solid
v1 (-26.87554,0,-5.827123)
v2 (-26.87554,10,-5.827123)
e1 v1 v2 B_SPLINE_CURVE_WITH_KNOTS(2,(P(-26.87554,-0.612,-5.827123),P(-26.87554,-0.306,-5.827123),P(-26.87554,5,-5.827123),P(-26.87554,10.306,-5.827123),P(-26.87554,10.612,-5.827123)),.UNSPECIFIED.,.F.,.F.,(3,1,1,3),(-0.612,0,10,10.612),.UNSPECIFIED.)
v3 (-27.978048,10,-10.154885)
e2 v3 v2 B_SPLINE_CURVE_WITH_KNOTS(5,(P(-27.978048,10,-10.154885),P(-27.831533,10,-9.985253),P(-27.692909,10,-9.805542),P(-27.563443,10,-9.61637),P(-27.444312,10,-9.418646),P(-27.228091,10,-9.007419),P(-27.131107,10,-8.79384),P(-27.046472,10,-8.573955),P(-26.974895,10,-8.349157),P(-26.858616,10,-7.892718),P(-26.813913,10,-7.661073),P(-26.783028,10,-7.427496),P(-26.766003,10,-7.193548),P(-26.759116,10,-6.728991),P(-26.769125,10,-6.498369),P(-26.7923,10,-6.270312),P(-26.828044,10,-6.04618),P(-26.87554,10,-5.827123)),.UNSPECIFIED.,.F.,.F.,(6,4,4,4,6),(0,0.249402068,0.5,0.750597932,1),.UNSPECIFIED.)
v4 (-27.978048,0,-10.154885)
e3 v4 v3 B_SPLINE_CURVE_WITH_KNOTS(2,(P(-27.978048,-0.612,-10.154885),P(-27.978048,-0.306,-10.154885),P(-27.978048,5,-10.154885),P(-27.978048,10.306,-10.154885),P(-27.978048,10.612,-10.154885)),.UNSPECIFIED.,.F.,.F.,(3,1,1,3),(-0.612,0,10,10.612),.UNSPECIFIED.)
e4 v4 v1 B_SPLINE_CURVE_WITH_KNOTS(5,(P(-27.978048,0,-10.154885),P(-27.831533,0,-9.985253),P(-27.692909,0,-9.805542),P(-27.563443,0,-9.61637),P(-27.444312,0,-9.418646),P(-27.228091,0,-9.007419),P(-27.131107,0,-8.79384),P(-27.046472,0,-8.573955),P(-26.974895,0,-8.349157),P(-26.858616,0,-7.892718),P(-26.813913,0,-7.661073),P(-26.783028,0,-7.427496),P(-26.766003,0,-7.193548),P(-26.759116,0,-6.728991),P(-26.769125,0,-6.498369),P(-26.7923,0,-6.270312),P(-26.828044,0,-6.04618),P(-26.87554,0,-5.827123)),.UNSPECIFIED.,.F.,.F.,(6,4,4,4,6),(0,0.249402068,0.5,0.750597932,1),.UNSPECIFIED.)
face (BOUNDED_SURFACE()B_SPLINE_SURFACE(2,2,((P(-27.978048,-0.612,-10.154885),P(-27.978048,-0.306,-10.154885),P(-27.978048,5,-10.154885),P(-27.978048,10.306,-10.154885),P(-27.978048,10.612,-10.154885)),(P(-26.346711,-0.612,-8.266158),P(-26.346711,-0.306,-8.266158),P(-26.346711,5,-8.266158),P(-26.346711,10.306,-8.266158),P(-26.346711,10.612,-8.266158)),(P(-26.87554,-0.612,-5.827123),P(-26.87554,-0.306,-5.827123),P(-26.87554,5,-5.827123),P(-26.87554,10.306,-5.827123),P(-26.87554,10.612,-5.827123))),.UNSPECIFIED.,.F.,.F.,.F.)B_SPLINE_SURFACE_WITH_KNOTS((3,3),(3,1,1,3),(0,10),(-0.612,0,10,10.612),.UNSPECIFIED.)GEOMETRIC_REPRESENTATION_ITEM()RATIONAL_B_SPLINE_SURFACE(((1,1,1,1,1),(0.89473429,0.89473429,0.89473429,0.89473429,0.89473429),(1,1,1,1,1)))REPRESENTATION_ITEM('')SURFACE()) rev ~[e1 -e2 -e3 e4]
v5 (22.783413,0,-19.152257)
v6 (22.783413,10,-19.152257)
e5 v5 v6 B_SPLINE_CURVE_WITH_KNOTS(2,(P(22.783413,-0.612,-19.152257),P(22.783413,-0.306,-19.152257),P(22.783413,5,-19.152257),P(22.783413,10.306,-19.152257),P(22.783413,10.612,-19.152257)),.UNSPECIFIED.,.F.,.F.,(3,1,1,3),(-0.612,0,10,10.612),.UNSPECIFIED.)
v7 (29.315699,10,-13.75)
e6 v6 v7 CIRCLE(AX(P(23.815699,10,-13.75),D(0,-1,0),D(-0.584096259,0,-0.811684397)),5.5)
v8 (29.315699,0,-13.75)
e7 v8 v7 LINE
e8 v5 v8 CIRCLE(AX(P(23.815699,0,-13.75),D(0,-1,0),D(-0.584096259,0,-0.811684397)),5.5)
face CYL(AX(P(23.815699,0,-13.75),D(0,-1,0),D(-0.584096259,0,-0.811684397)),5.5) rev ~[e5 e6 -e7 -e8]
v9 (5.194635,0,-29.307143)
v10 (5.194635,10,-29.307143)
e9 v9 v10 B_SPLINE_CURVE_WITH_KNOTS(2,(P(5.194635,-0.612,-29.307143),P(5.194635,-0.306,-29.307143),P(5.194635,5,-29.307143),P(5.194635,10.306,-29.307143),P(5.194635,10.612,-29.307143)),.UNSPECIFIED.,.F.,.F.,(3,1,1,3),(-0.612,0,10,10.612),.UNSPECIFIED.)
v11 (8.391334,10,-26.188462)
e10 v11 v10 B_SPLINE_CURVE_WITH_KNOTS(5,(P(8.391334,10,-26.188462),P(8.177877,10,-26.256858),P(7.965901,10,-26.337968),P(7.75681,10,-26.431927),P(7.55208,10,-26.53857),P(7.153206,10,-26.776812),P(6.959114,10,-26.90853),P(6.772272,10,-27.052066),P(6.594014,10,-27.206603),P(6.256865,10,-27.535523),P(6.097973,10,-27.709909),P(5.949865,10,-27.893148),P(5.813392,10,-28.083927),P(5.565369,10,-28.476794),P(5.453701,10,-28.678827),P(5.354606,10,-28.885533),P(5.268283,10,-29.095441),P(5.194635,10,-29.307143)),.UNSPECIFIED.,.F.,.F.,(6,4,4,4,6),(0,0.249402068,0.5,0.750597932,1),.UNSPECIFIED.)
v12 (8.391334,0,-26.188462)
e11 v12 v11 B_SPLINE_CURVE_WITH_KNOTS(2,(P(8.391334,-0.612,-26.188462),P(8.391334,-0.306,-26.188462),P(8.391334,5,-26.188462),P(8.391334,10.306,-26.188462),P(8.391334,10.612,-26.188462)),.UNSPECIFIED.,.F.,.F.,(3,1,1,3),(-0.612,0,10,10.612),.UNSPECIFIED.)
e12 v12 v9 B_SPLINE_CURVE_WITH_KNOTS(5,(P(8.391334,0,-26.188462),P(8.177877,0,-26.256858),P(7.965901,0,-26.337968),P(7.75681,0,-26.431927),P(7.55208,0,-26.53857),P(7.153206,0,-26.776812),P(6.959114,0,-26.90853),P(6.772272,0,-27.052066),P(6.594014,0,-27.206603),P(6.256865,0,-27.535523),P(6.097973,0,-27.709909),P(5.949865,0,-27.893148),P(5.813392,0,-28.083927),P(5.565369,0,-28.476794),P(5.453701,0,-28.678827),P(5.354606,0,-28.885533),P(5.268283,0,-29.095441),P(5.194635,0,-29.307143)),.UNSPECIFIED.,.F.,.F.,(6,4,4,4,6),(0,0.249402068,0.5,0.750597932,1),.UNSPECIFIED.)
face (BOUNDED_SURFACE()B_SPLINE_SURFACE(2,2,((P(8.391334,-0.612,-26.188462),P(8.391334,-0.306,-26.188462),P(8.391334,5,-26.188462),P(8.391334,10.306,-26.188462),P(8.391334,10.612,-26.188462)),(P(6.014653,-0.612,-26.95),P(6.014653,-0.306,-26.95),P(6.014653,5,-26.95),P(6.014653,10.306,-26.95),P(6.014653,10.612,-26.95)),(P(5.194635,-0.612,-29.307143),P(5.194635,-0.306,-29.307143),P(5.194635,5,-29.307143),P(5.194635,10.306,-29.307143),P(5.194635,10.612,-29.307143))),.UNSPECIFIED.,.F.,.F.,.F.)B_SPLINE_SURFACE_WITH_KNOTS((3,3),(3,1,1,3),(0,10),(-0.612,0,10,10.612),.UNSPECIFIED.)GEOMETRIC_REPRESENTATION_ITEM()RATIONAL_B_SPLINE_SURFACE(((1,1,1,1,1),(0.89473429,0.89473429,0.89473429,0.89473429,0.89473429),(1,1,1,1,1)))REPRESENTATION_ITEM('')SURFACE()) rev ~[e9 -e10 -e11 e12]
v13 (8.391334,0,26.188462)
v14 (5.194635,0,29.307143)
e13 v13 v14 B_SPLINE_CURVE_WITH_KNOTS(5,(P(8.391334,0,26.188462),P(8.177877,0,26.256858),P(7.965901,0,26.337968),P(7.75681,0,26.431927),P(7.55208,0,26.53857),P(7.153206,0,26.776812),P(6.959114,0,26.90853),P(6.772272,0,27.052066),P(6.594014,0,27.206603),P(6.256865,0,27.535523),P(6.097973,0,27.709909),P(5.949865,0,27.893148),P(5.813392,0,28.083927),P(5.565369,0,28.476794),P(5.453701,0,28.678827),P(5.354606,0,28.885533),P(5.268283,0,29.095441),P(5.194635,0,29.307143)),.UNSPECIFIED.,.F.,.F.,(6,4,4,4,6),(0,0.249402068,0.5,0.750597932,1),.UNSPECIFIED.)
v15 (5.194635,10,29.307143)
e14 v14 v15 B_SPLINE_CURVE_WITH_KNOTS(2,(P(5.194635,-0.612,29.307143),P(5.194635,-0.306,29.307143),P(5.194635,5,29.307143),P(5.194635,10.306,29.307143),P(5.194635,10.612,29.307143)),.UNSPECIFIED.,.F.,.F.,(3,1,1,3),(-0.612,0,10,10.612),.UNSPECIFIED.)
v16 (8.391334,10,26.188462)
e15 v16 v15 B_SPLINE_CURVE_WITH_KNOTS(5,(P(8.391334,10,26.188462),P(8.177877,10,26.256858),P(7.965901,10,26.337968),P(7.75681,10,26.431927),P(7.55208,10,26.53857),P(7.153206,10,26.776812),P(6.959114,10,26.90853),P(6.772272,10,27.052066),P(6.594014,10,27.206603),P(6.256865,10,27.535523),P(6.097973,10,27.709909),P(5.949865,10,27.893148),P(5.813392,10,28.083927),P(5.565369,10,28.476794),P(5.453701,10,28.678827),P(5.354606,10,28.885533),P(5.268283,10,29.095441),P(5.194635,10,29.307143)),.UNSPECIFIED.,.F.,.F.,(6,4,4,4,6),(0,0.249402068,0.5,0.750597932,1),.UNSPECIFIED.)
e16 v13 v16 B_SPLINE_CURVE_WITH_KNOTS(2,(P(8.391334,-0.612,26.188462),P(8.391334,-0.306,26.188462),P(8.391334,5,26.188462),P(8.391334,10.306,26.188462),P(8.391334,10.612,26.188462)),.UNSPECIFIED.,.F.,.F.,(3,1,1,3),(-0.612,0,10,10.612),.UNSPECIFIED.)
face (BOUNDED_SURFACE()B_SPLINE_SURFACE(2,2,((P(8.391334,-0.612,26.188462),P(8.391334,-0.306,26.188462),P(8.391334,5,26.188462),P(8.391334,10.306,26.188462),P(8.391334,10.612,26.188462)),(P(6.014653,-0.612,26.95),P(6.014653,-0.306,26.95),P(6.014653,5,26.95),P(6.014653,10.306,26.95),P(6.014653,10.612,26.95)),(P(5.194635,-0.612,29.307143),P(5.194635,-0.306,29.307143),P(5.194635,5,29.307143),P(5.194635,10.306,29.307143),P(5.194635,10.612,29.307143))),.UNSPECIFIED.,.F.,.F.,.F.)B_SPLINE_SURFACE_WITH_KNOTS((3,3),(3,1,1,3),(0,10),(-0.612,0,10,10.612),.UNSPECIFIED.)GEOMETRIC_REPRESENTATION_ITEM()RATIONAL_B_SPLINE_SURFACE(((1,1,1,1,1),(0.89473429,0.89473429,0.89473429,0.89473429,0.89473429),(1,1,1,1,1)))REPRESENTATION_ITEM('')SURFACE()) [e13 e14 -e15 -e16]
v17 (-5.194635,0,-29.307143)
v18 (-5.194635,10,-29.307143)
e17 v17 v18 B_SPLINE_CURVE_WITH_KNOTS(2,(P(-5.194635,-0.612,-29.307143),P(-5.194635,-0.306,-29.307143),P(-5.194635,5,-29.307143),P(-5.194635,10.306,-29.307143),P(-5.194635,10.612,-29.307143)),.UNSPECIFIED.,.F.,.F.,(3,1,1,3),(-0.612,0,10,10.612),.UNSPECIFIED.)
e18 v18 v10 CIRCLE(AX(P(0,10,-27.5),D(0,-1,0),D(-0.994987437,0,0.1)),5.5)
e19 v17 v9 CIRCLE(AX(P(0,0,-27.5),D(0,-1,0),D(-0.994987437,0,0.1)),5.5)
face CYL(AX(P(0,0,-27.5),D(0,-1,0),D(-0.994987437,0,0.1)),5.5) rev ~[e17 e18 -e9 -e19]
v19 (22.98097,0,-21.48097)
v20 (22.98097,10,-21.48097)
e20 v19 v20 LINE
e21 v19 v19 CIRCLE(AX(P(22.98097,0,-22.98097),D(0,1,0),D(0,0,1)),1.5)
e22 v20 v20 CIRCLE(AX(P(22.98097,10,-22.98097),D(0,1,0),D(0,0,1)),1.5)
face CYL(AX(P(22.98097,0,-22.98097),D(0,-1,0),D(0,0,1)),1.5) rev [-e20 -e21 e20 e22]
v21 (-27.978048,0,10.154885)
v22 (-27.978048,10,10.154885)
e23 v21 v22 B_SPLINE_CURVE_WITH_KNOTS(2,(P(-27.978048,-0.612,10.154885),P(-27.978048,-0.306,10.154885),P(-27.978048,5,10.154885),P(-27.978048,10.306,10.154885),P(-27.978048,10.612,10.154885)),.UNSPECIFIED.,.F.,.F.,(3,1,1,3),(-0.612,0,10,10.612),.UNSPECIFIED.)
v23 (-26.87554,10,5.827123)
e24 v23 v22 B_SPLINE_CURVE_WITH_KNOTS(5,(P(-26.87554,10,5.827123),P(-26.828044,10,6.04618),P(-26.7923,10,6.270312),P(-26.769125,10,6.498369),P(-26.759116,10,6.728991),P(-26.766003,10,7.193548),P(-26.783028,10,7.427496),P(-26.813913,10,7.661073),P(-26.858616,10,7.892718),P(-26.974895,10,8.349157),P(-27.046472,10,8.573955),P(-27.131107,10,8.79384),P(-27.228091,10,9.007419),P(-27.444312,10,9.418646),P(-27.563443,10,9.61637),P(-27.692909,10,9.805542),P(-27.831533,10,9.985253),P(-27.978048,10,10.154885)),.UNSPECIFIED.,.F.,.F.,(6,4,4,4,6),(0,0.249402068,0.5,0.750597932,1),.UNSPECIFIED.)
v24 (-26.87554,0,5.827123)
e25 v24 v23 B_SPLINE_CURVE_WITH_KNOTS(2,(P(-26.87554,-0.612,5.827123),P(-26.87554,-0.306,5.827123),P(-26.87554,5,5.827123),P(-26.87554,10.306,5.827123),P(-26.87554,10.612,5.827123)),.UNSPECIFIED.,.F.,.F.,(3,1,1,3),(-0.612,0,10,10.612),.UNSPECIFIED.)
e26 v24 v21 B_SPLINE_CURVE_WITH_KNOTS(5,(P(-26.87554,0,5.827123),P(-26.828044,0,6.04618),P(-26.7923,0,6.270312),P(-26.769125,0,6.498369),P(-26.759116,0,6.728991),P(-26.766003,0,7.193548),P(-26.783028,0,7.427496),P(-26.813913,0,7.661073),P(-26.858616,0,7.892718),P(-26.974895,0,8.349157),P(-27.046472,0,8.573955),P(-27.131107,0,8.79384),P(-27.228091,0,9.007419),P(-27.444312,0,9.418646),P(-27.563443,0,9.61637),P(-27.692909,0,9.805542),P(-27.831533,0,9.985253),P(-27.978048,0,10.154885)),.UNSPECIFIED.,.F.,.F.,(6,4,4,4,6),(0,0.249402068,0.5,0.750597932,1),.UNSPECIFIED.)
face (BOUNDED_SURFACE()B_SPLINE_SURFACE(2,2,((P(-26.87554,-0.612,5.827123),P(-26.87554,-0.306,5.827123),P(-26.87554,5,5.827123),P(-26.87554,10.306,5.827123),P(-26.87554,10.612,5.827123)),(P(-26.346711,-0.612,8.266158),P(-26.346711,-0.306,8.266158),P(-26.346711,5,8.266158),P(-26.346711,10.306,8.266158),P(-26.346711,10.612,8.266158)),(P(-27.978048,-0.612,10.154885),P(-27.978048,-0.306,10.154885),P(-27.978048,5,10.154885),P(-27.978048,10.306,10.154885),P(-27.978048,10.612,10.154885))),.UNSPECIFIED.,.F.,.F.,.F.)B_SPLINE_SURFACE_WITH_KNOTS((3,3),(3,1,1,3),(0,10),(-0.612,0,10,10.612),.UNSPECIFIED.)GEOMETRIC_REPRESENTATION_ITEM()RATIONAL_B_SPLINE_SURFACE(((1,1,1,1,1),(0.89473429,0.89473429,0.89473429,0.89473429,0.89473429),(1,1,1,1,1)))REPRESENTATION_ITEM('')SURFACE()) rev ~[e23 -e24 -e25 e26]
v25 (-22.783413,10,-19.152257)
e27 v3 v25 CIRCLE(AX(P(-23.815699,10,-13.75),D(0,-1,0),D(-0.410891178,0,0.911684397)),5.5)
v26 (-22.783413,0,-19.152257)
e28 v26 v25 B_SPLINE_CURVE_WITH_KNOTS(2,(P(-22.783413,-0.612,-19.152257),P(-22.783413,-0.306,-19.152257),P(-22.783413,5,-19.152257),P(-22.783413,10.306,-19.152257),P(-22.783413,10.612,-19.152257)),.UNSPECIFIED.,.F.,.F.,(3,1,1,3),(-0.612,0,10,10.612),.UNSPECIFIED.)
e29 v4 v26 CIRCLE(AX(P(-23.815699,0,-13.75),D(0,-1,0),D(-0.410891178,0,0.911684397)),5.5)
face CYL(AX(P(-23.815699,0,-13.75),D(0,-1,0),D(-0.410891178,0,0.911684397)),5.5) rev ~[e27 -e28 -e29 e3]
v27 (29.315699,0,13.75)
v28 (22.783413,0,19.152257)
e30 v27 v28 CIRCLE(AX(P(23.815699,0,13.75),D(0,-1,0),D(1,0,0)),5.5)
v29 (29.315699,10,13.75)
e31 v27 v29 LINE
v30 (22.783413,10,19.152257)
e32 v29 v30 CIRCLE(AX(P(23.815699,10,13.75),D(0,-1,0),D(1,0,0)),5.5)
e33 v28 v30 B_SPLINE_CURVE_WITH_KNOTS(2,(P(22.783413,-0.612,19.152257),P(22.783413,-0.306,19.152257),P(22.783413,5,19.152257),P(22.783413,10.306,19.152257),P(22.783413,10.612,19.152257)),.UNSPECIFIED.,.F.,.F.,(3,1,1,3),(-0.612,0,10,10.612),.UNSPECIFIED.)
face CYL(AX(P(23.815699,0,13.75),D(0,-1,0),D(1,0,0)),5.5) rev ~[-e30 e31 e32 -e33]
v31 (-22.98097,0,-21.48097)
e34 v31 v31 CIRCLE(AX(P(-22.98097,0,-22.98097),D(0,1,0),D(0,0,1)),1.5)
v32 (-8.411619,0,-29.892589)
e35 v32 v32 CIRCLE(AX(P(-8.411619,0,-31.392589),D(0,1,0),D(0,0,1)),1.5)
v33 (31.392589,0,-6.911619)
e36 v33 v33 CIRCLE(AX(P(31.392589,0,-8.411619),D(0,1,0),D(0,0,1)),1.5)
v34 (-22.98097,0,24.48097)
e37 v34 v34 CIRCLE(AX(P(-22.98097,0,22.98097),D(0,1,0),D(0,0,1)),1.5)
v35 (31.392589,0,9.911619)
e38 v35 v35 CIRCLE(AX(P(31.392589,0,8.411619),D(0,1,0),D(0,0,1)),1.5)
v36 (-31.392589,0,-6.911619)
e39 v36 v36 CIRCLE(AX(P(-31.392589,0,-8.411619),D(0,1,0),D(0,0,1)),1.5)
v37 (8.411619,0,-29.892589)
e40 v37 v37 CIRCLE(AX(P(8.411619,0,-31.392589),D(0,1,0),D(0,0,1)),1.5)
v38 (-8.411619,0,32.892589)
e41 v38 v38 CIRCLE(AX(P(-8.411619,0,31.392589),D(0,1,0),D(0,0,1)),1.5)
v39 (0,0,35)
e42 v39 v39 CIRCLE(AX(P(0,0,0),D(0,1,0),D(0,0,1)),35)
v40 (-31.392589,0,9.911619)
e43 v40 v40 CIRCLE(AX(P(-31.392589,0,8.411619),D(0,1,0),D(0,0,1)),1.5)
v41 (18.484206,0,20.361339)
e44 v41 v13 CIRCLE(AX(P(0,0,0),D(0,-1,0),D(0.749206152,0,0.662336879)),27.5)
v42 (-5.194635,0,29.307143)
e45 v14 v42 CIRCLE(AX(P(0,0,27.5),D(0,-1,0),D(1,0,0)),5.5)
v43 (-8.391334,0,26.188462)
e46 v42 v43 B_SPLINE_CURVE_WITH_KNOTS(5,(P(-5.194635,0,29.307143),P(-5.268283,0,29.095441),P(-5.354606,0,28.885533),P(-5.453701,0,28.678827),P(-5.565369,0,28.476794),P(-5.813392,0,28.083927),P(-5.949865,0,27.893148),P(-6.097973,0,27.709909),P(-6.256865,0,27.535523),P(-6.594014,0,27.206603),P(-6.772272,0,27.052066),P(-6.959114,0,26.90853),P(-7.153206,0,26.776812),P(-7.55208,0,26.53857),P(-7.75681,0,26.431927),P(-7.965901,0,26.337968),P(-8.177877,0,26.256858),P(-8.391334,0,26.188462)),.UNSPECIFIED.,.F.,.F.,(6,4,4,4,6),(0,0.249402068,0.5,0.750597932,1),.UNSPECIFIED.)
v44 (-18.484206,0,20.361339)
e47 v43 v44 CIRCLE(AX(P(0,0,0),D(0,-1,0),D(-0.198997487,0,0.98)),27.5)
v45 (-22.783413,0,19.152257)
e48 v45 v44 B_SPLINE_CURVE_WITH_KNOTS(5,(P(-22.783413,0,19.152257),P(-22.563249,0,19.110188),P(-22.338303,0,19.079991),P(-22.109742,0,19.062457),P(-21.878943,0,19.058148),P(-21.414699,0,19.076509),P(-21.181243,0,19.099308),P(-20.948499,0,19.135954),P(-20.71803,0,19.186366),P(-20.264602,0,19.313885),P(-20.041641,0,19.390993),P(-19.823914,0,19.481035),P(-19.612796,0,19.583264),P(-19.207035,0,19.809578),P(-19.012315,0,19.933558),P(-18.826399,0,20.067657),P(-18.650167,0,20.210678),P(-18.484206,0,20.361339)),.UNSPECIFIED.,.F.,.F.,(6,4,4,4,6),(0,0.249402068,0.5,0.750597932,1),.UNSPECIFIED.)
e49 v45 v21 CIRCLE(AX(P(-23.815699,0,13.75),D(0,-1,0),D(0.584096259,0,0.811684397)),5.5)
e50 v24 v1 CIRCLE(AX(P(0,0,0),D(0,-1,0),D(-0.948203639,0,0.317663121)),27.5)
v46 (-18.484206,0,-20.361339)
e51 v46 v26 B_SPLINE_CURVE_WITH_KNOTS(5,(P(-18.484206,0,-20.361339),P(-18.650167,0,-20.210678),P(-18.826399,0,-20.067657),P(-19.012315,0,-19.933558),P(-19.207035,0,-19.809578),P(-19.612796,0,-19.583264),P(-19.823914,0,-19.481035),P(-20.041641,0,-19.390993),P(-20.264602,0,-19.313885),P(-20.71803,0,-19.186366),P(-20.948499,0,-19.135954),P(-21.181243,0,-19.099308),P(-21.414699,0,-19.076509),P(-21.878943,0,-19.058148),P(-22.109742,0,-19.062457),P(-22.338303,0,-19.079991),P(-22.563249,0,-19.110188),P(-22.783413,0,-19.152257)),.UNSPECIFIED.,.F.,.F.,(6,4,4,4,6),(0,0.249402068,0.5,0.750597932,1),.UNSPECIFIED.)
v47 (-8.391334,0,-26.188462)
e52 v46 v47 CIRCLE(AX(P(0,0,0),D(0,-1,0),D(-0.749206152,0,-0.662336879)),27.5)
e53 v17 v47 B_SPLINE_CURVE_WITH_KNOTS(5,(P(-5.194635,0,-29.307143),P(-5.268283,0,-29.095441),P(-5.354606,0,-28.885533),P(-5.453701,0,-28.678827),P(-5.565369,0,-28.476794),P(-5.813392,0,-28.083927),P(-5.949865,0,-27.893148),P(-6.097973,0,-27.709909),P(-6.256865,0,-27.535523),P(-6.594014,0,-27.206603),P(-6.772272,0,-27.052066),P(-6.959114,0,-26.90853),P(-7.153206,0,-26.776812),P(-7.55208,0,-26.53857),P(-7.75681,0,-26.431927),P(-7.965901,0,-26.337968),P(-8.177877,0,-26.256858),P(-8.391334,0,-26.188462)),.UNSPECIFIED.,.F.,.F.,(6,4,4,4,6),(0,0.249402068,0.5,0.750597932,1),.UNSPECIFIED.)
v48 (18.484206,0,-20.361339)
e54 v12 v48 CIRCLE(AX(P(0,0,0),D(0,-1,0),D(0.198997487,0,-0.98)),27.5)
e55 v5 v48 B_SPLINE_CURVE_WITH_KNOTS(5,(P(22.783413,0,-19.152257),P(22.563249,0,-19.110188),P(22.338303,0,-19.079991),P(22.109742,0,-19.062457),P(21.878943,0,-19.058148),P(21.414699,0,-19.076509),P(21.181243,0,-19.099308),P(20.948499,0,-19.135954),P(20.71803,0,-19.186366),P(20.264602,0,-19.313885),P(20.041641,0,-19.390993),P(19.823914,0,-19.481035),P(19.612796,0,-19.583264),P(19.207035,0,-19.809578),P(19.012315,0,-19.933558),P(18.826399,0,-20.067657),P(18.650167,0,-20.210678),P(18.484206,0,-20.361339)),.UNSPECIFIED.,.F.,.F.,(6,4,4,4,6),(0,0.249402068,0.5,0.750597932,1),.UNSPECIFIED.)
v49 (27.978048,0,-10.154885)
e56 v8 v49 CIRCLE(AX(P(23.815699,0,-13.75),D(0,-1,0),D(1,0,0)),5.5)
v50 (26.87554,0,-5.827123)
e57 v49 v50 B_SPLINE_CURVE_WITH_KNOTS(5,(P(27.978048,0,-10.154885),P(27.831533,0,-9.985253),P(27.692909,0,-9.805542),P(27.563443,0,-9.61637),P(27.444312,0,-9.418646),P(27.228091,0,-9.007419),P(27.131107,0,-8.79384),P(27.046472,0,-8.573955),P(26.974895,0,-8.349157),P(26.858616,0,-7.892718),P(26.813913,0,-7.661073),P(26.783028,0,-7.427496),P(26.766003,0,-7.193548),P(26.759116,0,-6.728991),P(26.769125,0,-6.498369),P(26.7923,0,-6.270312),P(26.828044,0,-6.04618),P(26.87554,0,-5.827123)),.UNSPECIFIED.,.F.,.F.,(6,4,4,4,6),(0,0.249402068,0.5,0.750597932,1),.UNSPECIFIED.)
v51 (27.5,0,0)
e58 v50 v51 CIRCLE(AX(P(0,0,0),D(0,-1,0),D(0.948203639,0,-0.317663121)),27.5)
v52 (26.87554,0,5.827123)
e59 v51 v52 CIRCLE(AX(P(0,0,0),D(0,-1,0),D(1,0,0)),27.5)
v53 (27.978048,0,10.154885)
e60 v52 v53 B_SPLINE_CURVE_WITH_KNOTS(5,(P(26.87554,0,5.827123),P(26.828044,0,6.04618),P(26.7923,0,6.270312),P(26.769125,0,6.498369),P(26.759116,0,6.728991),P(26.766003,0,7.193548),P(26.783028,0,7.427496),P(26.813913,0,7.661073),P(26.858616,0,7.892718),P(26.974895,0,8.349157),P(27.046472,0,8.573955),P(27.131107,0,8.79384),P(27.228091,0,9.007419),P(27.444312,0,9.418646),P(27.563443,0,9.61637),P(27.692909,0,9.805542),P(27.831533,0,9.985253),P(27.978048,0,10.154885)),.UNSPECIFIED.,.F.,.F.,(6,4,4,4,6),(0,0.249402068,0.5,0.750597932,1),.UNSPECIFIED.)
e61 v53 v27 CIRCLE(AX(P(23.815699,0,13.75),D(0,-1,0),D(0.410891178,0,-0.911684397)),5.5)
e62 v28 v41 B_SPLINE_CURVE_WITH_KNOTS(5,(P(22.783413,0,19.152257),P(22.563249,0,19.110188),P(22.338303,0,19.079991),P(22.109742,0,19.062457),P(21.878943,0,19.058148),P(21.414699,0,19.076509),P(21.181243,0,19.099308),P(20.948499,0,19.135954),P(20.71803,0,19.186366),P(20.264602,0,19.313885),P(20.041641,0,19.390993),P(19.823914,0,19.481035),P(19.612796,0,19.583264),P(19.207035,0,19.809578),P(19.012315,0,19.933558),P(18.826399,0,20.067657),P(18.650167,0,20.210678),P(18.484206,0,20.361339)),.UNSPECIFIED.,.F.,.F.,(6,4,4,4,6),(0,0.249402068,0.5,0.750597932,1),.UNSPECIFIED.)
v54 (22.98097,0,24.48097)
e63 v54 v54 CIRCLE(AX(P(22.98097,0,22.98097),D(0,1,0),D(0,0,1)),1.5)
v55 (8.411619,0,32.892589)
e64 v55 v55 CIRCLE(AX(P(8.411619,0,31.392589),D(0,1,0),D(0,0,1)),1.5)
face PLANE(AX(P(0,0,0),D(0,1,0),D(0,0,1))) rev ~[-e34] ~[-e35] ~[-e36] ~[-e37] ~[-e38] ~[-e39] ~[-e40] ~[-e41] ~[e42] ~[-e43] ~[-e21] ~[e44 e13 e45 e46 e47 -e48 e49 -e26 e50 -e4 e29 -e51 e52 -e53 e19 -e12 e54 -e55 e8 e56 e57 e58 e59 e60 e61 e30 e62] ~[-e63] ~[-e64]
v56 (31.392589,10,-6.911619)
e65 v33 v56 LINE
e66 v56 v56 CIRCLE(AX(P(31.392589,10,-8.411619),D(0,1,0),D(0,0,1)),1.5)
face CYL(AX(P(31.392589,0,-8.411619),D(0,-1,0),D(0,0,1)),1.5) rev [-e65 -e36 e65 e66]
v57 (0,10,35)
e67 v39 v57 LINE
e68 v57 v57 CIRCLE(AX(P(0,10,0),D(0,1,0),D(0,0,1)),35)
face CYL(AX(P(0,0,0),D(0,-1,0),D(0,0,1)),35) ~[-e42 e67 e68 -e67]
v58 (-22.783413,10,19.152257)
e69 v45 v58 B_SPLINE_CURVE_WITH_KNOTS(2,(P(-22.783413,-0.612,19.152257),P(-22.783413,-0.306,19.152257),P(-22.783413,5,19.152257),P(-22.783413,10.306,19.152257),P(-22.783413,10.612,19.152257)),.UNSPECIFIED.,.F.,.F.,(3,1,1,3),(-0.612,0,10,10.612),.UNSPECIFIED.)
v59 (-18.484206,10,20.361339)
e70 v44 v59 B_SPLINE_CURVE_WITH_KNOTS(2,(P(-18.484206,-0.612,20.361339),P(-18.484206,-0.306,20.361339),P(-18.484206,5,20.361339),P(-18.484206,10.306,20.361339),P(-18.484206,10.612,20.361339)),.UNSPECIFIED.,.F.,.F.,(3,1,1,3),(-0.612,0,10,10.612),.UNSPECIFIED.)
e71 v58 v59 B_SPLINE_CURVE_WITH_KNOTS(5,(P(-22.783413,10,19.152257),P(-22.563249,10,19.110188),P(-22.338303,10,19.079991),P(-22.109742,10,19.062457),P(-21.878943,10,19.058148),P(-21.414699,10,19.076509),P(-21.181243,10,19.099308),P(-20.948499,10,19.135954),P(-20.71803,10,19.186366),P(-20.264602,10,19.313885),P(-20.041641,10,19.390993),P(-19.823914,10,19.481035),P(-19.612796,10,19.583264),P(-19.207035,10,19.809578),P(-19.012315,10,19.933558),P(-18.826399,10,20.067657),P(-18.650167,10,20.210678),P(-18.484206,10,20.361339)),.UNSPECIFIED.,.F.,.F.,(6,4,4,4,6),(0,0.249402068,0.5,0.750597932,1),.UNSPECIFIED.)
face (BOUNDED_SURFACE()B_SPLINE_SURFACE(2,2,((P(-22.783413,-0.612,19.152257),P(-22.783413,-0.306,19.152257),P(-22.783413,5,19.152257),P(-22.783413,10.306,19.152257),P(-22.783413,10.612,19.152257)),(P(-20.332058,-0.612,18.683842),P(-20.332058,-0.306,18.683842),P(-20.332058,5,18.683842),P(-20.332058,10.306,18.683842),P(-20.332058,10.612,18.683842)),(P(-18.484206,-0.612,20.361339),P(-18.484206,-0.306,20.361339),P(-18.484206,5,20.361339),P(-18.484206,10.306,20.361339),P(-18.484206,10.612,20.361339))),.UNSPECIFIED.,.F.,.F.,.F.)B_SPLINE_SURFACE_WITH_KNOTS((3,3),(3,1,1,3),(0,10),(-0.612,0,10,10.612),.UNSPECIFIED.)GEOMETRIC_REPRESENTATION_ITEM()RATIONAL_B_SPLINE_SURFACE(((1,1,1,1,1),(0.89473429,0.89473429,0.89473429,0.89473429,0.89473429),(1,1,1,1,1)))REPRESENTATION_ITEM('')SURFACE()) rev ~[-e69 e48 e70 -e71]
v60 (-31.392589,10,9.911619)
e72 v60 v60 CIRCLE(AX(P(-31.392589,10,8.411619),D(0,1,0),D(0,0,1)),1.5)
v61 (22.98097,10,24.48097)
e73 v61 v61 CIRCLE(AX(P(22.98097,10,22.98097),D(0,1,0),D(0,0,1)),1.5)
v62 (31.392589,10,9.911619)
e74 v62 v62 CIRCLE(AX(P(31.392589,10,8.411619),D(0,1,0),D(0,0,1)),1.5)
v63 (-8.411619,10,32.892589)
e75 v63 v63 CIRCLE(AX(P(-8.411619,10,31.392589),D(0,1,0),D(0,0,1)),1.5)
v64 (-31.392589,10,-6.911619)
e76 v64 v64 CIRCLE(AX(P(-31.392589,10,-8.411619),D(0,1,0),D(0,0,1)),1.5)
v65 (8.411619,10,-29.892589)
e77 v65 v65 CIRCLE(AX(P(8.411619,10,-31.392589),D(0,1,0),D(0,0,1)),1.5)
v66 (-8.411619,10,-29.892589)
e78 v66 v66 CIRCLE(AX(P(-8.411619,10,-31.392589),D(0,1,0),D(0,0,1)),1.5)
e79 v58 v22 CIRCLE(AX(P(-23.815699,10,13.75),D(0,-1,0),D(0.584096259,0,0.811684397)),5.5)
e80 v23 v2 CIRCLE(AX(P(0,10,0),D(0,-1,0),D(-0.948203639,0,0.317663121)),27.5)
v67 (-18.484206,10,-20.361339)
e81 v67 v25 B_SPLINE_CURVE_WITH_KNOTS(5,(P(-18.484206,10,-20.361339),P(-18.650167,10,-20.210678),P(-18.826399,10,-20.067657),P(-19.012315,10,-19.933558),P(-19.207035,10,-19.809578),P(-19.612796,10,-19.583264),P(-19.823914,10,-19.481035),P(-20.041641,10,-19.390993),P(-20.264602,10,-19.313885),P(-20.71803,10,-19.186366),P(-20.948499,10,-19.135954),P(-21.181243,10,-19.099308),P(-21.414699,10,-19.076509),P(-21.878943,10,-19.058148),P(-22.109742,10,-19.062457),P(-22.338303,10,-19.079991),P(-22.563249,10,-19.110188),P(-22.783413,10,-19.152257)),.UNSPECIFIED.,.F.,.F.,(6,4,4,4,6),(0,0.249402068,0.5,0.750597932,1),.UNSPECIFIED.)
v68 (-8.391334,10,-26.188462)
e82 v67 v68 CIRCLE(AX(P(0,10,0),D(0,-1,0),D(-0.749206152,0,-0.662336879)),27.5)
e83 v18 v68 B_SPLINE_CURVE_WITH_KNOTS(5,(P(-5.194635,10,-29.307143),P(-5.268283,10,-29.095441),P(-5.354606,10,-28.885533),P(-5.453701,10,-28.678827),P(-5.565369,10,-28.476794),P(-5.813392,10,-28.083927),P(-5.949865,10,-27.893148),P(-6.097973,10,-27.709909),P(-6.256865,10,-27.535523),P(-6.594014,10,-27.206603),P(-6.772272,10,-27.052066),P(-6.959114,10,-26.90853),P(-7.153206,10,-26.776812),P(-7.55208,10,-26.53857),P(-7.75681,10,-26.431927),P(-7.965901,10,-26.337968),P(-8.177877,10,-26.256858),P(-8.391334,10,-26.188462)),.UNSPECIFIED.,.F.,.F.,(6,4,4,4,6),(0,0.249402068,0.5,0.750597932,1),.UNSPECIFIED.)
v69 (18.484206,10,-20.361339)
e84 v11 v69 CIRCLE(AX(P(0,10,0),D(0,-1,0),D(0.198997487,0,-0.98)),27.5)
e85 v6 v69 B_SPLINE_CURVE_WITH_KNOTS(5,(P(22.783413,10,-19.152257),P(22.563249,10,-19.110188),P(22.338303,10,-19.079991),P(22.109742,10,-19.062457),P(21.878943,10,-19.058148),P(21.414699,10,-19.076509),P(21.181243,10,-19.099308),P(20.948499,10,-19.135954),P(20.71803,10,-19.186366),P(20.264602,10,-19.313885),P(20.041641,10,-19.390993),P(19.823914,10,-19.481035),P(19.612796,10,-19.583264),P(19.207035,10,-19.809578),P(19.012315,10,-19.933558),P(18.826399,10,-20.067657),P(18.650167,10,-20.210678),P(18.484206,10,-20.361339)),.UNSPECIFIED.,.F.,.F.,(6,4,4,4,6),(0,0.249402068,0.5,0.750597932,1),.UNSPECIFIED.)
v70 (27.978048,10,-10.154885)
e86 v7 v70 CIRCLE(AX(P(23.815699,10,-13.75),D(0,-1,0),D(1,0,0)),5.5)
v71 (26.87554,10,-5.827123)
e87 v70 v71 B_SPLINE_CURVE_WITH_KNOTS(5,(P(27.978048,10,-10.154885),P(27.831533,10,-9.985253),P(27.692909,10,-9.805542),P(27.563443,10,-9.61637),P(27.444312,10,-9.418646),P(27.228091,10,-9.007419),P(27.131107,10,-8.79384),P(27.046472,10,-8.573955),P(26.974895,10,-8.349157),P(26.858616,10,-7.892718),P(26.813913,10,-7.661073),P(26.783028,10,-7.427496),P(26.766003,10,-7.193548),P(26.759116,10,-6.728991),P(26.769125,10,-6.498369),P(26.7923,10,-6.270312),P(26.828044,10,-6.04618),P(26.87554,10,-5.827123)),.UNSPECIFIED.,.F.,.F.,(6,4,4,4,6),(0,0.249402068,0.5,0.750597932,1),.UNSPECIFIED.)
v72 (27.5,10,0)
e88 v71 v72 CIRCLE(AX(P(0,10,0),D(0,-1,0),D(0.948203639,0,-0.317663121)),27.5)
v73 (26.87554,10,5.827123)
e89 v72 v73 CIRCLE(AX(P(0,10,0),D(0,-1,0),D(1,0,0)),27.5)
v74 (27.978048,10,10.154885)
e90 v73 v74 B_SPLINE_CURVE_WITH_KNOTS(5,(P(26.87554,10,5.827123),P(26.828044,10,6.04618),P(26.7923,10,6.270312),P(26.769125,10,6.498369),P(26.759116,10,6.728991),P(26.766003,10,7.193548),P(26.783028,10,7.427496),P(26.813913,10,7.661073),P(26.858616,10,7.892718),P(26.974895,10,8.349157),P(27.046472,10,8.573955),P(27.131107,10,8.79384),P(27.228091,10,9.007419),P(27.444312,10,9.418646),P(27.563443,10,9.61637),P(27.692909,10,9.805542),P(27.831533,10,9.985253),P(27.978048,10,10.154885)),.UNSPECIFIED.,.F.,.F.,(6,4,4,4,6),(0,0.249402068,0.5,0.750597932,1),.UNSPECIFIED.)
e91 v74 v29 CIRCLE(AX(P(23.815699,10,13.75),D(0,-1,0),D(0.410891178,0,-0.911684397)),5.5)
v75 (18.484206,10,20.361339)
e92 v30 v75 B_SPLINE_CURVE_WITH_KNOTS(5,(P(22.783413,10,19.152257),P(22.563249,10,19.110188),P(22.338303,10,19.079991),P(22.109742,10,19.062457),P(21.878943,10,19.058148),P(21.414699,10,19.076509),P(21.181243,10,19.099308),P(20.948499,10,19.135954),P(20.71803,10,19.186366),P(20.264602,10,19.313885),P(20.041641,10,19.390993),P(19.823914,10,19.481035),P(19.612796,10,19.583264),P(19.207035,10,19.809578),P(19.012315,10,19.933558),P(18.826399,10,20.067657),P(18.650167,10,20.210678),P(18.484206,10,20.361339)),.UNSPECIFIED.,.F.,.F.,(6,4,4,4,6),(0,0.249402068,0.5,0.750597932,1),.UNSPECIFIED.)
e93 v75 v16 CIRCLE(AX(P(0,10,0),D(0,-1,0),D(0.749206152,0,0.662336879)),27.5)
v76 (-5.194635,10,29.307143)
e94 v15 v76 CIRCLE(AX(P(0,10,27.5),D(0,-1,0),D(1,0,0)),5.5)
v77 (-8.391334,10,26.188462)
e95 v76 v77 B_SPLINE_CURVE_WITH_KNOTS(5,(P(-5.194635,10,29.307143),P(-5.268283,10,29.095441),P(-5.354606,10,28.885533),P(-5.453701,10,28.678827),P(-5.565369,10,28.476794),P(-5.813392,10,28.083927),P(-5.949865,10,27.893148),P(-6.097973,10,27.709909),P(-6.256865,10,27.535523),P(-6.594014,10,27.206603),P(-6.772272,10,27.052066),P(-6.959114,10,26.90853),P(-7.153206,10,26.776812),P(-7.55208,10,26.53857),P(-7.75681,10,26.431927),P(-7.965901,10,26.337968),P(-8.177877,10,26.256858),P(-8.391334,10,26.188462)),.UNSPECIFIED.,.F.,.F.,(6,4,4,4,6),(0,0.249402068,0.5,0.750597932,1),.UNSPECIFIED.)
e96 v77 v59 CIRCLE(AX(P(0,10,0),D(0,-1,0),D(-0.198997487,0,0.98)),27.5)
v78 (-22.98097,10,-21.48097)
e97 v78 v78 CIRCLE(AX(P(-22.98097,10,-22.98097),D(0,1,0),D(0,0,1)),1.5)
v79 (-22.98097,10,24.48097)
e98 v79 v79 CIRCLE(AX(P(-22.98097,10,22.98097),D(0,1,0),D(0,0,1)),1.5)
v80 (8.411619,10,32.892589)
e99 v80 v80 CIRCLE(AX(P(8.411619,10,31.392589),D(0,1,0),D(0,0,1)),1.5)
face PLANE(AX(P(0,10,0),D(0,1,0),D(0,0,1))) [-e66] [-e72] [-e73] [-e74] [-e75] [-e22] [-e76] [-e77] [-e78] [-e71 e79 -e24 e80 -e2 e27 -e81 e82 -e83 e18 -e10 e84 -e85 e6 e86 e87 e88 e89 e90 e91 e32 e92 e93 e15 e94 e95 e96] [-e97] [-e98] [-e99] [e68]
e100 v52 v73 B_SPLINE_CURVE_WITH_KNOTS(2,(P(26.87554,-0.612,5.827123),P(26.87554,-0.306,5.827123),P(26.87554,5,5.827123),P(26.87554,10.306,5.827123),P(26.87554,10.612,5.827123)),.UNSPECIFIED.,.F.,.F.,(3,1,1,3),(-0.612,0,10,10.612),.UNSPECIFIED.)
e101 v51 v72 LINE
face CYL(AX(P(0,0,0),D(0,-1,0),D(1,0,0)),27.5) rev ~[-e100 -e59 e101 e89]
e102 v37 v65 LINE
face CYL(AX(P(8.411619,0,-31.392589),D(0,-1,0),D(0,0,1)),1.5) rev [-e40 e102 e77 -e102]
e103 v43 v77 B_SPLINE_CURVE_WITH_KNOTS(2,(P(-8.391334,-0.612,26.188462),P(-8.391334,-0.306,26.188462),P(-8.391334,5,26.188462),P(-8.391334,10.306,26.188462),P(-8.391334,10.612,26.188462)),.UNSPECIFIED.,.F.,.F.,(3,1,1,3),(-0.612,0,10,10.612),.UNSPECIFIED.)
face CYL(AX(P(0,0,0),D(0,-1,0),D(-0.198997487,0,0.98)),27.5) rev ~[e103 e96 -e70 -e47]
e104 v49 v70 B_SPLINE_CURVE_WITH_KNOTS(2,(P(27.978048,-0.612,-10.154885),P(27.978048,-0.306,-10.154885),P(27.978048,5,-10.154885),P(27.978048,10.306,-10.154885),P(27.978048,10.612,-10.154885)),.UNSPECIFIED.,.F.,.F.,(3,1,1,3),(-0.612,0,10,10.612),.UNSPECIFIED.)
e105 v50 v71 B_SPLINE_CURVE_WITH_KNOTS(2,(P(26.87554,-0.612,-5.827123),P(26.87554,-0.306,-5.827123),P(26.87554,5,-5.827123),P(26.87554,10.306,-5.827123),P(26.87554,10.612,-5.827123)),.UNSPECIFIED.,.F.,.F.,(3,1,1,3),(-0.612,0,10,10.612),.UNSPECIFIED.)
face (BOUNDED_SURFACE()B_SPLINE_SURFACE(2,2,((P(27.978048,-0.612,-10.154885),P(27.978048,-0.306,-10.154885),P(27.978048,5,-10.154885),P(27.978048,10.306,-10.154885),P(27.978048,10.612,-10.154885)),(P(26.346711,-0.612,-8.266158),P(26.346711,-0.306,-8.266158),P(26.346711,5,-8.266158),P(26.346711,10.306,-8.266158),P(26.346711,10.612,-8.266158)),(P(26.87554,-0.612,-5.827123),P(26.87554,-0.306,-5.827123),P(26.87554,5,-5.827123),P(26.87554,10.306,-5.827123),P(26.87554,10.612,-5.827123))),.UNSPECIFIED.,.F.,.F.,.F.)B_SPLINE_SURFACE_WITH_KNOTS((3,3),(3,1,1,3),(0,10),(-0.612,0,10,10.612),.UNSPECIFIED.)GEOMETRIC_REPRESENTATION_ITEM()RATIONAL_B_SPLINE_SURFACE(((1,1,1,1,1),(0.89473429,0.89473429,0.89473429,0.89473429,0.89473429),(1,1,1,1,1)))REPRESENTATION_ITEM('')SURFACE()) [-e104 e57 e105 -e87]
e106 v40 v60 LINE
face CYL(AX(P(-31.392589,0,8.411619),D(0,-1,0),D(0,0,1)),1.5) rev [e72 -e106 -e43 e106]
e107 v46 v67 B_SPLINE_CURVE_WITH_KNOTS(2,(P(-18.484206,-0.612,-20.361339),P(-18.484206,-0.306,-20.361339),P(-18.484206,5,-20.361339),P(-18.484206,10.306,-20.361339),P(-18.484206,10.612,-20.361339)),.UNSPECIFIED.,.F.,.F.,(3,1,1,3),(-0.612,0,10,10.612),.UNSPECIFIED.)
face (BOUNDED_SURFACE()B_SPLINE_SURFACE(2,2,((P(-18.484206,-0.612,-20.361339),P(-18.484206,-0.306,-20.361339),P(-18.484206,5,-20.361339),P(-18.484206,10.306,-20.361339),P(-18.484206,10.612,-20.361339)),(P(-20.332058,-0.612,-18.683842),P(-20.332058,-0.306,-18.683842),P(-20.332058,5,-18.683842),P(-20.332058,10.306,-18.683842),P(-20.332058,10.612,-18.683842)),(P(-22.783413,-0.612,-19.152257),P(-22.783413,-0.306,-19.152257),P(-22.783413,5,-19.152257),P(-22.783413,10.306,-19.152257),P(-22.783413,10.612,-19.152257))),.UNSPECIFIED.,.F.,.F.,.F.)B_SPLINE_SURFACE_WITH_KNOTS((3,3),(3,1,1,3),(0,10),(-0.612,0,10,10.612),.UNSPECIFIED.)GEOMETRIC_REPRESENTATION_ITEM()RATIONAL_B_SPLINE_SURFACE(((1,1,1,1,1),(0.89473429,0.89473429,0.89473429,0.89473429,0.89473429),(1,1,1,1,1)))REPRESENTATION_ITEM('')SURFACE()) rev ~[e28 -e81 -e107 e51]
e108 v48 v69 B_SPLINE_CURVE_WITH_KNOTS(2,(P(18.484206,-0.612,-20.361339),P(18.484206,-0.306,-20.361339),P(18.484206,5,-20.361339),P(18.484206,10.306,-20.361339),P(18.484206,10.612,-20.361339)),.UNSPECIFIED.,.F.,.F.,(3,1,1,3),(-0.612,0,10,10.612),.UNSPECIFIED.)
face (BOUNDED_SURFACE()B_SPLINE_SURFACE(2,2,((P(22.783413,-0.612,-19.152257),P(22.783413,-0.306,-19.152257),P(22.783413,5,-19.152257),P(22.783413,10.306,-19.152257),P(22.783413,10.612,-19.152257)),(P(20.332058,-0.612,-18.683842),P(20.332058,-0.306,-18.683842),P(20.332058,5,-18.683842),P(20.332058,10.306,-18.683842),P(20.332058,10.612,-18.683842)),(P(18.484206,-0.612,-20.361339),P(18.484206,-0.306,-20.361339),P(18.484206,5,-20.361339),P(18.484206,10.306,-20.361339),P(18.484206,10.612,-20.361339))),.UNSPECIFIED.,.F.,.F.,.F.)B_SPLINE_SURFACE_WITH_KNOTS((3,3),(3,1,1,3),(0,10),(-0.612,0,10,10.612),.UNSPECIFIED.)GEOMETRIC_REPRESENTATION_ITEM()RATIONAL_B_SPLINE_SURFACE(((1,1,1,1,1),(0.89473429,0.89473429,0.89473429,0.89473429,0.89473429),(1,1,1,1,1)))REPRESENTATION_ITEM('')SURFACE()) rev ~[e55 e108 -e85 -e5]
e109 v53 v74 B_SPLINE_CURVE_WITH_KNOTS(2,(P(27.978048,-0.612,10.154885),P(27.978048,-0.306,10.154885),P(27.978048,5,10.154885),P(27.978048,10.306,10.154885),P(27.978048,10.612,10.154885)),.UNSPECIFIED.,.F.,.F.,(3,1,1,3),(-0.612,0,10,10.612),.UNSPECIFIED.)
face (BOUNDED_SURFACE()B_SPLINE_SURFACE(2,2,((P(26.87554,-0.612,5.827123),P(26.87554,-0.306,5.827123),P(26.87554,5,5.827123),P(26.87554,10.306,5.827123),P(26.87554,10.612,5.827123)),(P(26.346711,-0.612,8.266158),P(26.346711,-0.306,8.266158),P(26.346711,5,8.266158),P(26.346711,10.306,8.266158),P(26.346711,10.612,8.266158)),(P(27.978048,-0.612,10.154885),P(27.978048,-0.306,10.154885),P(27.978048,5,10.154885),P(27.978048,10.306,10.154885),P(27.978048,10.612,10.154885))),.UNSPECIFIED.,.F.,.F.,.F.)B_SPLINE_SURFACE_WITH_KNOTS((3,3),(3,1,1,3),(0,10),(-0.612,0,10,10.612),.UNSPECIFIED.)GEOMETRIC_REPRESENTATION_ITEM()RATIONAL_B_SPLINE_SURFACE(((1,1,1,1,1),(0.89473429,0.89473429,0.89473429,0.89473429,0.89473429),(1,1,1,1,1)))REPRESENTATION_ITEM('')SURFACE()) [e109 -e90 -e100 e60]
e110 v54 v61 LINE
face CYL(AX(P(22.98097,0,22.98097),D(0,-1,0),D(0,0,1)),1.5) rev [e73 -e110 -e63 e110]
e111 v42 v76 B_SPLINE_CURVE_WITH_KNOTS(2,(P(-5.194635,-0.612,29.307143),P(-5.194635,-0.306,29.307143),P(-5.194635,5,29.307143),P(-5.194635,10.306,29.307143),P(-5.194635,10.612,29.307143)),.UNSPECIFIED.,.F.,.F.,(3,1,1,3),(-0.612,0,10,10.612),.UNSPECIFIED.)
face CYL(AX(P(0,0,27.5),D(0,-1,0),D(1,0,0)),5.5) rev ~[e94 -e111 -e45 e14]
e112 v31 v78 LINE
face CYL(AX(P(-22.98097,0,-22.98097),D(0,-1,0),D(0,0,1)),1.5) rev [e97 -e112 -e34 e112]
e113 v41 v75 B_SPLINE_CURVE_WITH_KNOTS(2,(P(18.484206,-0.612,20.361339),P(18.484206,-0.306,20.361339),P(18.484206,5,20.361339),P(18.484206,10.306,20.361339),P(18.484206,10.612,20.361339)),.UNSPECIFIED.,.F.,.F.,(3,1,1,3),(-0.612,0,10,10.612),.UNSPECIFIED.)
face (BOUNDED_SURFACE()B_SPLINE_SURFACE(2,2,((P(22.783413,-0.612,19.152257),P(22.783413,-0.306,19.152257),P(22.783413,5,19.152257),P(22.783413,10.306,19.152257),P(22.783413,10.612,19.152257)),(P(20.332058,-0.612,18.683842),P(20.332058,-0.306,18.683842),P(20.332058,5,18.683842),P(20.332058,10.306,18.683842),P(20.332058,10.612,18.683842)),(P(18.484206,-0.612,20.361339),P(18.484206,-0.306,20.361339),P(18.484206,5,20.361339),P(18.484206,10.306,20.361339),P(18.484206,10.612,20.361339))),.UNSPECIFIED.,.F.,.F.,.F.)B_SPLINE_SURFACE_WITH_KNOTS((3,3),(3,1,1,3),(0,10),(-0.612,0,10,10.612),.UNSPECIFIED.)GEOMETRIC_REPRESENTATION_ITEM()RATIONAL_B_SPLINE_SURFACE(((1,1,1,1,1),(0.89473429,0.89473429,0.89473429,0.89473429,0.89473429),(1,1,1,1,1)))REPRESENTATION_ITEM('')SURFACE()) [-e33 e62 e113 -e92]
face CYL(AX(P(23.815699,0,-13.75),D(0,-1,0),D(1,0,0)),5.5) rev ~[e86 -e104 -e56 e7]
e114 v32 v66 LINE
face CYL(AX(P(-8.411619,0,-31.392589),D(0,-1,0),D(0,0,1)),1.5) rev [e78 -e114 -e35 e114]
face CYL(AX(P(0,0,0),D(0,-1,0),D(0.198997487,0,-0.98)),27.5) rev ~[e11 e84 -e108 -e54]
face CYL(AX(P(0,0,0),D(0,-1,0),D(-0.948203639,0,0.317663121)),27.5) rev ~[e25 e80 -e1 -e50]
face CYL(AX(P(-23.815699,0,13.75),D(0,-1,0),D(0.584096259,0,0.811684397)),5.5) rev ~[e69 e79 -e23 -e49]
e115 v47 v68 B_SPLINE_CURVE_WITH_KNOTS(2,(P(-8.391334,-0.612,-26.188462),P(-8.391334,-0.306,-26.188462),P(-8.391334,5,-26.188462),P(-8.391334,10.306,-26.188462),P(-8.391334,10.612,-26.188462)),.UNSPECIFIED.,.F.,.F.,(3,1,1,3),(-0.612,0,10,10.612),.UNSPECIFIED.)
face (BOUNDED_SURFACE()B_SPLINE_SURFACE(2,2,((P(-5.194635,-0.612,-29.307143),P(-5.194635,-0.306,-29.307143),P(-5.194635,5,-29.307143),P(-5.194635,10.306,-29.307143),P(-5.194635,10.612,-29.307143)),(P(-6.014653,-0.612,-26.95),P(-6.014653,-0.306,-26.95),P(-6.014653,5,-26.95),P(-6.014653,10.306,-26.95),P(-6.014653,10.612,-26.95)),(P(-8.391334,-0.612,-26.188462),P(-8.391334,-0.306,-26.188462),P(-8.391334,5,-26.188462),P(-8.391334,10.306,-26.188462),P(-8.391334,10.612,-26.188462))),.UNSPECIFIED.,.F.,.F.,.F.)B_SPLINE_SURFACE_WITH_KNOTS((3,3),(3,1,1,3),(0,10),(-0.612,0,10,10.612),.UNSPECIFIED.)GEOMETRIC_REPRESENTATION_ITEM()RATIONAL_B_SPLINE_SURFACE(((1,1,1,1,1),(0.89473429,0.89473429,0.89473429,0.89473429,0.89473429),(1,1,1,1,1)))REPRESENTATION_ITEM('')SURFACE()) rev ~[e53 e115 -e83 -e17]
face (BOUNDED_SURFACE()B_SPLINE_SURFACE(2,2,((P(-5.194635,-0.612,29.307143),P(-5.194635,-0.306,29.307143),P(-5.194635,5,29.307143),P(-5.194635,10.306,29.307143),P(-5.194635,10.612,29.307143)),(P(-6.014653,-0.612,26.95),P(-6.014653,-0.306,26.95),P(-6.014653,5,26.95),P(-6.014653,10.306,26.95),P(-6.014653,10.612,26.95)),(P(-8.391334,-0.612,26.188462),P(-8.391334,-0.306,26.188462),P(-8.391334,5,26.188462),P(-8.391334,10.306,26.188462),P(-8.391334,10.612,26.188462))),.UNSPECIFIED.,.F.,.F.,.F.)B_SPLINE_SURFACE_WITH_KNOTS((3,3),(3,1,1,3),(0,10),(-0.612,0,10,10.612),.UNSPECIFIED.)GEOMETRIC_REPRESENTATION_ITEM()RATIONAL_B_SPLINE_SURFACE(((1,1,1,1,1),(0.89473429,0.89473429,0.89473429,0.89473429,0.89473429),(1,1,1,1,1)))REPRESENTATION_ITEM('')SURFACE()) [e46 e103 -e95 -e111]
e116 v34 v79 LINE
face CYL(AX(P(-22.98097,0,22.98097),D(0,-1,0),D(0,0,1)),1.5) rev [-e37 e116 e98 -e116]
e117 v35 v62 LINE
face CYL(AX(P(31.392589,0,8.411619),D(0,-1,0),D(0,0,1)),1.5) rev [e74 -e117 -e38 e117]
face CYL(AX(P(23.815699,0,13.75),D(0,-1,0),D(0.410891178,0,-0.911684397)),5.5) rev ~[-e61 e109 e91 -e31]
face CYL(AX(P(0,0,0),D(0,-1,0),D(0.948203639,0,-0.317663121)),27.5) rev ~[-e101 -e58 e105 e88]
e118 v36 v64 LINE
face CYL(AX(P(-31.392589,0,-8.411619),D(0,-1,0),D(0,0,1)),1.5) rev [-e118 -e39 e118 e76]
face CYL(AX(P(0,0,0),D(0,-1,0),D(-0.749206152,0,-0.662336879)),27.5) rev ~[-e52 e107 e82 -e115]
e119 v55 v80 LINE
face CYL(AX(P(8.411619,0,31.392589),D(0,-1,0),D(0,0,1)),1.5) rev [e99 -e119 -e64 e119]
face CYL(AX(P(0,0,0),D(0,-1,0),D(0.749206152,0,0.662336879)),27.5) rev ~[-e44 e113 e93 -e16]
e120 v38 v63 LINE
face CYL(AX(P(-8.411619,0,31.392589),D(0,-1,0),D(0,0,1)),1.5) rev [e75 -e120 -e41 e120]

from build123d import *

# Parameters (mm, degrees)
SKETCH1_R           = 35
SKETCH1_R_2         = 1.5
BOSS_EXTRUDE1_DEPTH = 10
FILLET1_R           = 5


with BuildPart() as part:
    # Sketch1 → Boss-Extrude1 (new body)
    with BuildSketch(Plane(origin=(0, 0, 0), x_dir=(1, 0, 0), z_dir=(0, 1, 0))):
        with Locations(Location((0, 0, 0), (0, 0, 270))):
            Circle(SKETCH1_R)
        with Locations(Location((-22.980970389, -22.980970389, 0), (0, 0, 270))):
            Circle(SKETCH1_R_2, mode=Mode.SUBTRACT)
        with Locations(Location((-8.411618966, -31.392589354, 0), (0, 0, 270))):
            Circle(SKETCH1_R_2, mode=Mode.SUBTRACT)
        with Locations(Location((-31.392589354, -8.411618966, 0), (0, 0, 270))):
            Circle(SKETCH1_R_2, mode=Mode.SUBTRACT)
        with Locations(Location((8.411618966, -31.392589354, 0), (0, 0, 270))):
            Circle(SKETCH1_R_2, mode=Mode.SUBTRACT)
        with Locations(Location((22.980970389, -22.980970389, 0), (0, 0, 270))):
            Circle(SKETCH1_R_2, mode=Mode.SUBTRACT)
        with Locations(Location((31.392589354, -8.411618966, 0), (0, 0, 270))):
            Circle(SKETCH1_R_2, mode=Mode.SUBTRACT)
        with Locations(Location((-31.392589354, 8.411618966, 0), (0, 0, 270))):
            Circle(SKETCH1_R_2, mode=Mode.SUBTRACT)
        with Locations(Location((-22.980970389, 22.980970389, 0), (0, 0, 270))):
            Circle(SKETCH1_R_2, mode=Mode.SUBTRACT)
        with Locations(Location((-8.411618966, 31.392589354, 0), (0, 0, 270))):
            Circle(SKETCH1_R_2, mode=Mode.SUBTRACT)
        with BuildLine():
            ThreePointArc((26.075600084, 8.735735817), (27.141564088, 4.425550683), (27.5, 0))
            ThreePointArc((27.5, 0), (27.141564088, -4.425550683), (26.075600084, -8.735735817))
            ThreePointArc((26.075600084, -8.735735817), (28.435193064, -10.764992307), (29.315698604, -13.75))
            ThreePointArc((29.315698604, -13.75), (26.323794313, -18.644839723), (20.60316918, -18.214264183))
            ThreePointArc((20.60316918, -18.214264183), (13.75, -23.815698604), (5.472430904, -26.95))
            ThreePointArc((5.472430904, -26.95), (5.493103402, -27.224654737), (5.5, -27.5))
            ThreePointArc((5.5, -27.5), (-0.275345263, -32.993103402), (-5.472430904, -26.95))
            ThreePointArc((-5.472430904, -26.95), (-13.75, -23.815698604), (-20.60316918, -18.214264183))
            ThreePointArc((-20.60316918, -18.214264183), (-28.578838325, -16.5), (-26.075600084, -8.735735817))
            ThreePointArc((-26.075600084, -8.735735817), (-27.5, 0), (-26.075600084, 8.735735817))
            ThreePointArc((-26.075600084, 8.735735817), (-28.578838325, 16.5), (-20.60316918, 18.214264183))
            ThreePointArc((-20.60316918, 18.214264183), (-13.75, 23.815698604), (-5.472430904, 26.95))
            ThreePointArc((-5.472430904, 26.95), (-0.275345263, 32.993103402), (5.5, 27.5))
            ThreePointArc((5.5, 27.5), (5.493103402, 27.224654737), (5.472430904, 26.95))
            ThreePointArc((5.472430904, 26.95), (13.75, 23.815698604), (20.60316918, 18.214264183))
            ThreePointArc((20.60316918, 18.214264183), (26.323794313, 18.644839723), (29.315698604, 13.75))
            ThreePointArc((29.315698604, 13.75), (28.435193064, 10.764992307), (26.075600084, 8.735735817))
        make_face(mode=Mode.SUBTRACT)
        with Locations(Location((31.392589354, 8.411618966, 0), (0, 0, 270))):
            Circle(SKETCH1_R_2, mode=Mode.SUBTRACT)
        with Locations(Location((8.411618966, 31.392589354, 0), (0, 0, 270))):
            Circle(SKETCH1_R_2, mode=Mode.SUBTRACT)
        with Locations(Location((22.980970389, 22.980970389, 0), (0, 0, 270))):
            Circle(SKETCH1_R_2, mode=Mode.SUBTRACT)
    extrude(amount=BOSS_EXTRUDE1_DEPTH)

    # Fillet1
    fillet1_edges = [part.edges().sort_by_distance(p)[0] for p in [
        (-26.075600084, 5, -8.735735817),
        (-26.075600084, 5, 8.735735817),
        (-20.60316918, 5, 18.214264183),
        (-5.472430904, 5, 26.95),
        (5.472430904, 5, 26.95),
        (20.60316918, 5, 18.214264183),
        (26.075600084, 5, 8.735735817),
        (26.075600084, 5, -8.735735817),
        (20.60316918, 5, -18.214264183),
        (5.472430904, 5, -26.95),
        (-5.472430904, 5, -26.95),
        (-20.60316918, 5, -18.214264183),
    ]]
    fillet(fillet1_edges, radius=FILLET1_R)


solid = part.part
